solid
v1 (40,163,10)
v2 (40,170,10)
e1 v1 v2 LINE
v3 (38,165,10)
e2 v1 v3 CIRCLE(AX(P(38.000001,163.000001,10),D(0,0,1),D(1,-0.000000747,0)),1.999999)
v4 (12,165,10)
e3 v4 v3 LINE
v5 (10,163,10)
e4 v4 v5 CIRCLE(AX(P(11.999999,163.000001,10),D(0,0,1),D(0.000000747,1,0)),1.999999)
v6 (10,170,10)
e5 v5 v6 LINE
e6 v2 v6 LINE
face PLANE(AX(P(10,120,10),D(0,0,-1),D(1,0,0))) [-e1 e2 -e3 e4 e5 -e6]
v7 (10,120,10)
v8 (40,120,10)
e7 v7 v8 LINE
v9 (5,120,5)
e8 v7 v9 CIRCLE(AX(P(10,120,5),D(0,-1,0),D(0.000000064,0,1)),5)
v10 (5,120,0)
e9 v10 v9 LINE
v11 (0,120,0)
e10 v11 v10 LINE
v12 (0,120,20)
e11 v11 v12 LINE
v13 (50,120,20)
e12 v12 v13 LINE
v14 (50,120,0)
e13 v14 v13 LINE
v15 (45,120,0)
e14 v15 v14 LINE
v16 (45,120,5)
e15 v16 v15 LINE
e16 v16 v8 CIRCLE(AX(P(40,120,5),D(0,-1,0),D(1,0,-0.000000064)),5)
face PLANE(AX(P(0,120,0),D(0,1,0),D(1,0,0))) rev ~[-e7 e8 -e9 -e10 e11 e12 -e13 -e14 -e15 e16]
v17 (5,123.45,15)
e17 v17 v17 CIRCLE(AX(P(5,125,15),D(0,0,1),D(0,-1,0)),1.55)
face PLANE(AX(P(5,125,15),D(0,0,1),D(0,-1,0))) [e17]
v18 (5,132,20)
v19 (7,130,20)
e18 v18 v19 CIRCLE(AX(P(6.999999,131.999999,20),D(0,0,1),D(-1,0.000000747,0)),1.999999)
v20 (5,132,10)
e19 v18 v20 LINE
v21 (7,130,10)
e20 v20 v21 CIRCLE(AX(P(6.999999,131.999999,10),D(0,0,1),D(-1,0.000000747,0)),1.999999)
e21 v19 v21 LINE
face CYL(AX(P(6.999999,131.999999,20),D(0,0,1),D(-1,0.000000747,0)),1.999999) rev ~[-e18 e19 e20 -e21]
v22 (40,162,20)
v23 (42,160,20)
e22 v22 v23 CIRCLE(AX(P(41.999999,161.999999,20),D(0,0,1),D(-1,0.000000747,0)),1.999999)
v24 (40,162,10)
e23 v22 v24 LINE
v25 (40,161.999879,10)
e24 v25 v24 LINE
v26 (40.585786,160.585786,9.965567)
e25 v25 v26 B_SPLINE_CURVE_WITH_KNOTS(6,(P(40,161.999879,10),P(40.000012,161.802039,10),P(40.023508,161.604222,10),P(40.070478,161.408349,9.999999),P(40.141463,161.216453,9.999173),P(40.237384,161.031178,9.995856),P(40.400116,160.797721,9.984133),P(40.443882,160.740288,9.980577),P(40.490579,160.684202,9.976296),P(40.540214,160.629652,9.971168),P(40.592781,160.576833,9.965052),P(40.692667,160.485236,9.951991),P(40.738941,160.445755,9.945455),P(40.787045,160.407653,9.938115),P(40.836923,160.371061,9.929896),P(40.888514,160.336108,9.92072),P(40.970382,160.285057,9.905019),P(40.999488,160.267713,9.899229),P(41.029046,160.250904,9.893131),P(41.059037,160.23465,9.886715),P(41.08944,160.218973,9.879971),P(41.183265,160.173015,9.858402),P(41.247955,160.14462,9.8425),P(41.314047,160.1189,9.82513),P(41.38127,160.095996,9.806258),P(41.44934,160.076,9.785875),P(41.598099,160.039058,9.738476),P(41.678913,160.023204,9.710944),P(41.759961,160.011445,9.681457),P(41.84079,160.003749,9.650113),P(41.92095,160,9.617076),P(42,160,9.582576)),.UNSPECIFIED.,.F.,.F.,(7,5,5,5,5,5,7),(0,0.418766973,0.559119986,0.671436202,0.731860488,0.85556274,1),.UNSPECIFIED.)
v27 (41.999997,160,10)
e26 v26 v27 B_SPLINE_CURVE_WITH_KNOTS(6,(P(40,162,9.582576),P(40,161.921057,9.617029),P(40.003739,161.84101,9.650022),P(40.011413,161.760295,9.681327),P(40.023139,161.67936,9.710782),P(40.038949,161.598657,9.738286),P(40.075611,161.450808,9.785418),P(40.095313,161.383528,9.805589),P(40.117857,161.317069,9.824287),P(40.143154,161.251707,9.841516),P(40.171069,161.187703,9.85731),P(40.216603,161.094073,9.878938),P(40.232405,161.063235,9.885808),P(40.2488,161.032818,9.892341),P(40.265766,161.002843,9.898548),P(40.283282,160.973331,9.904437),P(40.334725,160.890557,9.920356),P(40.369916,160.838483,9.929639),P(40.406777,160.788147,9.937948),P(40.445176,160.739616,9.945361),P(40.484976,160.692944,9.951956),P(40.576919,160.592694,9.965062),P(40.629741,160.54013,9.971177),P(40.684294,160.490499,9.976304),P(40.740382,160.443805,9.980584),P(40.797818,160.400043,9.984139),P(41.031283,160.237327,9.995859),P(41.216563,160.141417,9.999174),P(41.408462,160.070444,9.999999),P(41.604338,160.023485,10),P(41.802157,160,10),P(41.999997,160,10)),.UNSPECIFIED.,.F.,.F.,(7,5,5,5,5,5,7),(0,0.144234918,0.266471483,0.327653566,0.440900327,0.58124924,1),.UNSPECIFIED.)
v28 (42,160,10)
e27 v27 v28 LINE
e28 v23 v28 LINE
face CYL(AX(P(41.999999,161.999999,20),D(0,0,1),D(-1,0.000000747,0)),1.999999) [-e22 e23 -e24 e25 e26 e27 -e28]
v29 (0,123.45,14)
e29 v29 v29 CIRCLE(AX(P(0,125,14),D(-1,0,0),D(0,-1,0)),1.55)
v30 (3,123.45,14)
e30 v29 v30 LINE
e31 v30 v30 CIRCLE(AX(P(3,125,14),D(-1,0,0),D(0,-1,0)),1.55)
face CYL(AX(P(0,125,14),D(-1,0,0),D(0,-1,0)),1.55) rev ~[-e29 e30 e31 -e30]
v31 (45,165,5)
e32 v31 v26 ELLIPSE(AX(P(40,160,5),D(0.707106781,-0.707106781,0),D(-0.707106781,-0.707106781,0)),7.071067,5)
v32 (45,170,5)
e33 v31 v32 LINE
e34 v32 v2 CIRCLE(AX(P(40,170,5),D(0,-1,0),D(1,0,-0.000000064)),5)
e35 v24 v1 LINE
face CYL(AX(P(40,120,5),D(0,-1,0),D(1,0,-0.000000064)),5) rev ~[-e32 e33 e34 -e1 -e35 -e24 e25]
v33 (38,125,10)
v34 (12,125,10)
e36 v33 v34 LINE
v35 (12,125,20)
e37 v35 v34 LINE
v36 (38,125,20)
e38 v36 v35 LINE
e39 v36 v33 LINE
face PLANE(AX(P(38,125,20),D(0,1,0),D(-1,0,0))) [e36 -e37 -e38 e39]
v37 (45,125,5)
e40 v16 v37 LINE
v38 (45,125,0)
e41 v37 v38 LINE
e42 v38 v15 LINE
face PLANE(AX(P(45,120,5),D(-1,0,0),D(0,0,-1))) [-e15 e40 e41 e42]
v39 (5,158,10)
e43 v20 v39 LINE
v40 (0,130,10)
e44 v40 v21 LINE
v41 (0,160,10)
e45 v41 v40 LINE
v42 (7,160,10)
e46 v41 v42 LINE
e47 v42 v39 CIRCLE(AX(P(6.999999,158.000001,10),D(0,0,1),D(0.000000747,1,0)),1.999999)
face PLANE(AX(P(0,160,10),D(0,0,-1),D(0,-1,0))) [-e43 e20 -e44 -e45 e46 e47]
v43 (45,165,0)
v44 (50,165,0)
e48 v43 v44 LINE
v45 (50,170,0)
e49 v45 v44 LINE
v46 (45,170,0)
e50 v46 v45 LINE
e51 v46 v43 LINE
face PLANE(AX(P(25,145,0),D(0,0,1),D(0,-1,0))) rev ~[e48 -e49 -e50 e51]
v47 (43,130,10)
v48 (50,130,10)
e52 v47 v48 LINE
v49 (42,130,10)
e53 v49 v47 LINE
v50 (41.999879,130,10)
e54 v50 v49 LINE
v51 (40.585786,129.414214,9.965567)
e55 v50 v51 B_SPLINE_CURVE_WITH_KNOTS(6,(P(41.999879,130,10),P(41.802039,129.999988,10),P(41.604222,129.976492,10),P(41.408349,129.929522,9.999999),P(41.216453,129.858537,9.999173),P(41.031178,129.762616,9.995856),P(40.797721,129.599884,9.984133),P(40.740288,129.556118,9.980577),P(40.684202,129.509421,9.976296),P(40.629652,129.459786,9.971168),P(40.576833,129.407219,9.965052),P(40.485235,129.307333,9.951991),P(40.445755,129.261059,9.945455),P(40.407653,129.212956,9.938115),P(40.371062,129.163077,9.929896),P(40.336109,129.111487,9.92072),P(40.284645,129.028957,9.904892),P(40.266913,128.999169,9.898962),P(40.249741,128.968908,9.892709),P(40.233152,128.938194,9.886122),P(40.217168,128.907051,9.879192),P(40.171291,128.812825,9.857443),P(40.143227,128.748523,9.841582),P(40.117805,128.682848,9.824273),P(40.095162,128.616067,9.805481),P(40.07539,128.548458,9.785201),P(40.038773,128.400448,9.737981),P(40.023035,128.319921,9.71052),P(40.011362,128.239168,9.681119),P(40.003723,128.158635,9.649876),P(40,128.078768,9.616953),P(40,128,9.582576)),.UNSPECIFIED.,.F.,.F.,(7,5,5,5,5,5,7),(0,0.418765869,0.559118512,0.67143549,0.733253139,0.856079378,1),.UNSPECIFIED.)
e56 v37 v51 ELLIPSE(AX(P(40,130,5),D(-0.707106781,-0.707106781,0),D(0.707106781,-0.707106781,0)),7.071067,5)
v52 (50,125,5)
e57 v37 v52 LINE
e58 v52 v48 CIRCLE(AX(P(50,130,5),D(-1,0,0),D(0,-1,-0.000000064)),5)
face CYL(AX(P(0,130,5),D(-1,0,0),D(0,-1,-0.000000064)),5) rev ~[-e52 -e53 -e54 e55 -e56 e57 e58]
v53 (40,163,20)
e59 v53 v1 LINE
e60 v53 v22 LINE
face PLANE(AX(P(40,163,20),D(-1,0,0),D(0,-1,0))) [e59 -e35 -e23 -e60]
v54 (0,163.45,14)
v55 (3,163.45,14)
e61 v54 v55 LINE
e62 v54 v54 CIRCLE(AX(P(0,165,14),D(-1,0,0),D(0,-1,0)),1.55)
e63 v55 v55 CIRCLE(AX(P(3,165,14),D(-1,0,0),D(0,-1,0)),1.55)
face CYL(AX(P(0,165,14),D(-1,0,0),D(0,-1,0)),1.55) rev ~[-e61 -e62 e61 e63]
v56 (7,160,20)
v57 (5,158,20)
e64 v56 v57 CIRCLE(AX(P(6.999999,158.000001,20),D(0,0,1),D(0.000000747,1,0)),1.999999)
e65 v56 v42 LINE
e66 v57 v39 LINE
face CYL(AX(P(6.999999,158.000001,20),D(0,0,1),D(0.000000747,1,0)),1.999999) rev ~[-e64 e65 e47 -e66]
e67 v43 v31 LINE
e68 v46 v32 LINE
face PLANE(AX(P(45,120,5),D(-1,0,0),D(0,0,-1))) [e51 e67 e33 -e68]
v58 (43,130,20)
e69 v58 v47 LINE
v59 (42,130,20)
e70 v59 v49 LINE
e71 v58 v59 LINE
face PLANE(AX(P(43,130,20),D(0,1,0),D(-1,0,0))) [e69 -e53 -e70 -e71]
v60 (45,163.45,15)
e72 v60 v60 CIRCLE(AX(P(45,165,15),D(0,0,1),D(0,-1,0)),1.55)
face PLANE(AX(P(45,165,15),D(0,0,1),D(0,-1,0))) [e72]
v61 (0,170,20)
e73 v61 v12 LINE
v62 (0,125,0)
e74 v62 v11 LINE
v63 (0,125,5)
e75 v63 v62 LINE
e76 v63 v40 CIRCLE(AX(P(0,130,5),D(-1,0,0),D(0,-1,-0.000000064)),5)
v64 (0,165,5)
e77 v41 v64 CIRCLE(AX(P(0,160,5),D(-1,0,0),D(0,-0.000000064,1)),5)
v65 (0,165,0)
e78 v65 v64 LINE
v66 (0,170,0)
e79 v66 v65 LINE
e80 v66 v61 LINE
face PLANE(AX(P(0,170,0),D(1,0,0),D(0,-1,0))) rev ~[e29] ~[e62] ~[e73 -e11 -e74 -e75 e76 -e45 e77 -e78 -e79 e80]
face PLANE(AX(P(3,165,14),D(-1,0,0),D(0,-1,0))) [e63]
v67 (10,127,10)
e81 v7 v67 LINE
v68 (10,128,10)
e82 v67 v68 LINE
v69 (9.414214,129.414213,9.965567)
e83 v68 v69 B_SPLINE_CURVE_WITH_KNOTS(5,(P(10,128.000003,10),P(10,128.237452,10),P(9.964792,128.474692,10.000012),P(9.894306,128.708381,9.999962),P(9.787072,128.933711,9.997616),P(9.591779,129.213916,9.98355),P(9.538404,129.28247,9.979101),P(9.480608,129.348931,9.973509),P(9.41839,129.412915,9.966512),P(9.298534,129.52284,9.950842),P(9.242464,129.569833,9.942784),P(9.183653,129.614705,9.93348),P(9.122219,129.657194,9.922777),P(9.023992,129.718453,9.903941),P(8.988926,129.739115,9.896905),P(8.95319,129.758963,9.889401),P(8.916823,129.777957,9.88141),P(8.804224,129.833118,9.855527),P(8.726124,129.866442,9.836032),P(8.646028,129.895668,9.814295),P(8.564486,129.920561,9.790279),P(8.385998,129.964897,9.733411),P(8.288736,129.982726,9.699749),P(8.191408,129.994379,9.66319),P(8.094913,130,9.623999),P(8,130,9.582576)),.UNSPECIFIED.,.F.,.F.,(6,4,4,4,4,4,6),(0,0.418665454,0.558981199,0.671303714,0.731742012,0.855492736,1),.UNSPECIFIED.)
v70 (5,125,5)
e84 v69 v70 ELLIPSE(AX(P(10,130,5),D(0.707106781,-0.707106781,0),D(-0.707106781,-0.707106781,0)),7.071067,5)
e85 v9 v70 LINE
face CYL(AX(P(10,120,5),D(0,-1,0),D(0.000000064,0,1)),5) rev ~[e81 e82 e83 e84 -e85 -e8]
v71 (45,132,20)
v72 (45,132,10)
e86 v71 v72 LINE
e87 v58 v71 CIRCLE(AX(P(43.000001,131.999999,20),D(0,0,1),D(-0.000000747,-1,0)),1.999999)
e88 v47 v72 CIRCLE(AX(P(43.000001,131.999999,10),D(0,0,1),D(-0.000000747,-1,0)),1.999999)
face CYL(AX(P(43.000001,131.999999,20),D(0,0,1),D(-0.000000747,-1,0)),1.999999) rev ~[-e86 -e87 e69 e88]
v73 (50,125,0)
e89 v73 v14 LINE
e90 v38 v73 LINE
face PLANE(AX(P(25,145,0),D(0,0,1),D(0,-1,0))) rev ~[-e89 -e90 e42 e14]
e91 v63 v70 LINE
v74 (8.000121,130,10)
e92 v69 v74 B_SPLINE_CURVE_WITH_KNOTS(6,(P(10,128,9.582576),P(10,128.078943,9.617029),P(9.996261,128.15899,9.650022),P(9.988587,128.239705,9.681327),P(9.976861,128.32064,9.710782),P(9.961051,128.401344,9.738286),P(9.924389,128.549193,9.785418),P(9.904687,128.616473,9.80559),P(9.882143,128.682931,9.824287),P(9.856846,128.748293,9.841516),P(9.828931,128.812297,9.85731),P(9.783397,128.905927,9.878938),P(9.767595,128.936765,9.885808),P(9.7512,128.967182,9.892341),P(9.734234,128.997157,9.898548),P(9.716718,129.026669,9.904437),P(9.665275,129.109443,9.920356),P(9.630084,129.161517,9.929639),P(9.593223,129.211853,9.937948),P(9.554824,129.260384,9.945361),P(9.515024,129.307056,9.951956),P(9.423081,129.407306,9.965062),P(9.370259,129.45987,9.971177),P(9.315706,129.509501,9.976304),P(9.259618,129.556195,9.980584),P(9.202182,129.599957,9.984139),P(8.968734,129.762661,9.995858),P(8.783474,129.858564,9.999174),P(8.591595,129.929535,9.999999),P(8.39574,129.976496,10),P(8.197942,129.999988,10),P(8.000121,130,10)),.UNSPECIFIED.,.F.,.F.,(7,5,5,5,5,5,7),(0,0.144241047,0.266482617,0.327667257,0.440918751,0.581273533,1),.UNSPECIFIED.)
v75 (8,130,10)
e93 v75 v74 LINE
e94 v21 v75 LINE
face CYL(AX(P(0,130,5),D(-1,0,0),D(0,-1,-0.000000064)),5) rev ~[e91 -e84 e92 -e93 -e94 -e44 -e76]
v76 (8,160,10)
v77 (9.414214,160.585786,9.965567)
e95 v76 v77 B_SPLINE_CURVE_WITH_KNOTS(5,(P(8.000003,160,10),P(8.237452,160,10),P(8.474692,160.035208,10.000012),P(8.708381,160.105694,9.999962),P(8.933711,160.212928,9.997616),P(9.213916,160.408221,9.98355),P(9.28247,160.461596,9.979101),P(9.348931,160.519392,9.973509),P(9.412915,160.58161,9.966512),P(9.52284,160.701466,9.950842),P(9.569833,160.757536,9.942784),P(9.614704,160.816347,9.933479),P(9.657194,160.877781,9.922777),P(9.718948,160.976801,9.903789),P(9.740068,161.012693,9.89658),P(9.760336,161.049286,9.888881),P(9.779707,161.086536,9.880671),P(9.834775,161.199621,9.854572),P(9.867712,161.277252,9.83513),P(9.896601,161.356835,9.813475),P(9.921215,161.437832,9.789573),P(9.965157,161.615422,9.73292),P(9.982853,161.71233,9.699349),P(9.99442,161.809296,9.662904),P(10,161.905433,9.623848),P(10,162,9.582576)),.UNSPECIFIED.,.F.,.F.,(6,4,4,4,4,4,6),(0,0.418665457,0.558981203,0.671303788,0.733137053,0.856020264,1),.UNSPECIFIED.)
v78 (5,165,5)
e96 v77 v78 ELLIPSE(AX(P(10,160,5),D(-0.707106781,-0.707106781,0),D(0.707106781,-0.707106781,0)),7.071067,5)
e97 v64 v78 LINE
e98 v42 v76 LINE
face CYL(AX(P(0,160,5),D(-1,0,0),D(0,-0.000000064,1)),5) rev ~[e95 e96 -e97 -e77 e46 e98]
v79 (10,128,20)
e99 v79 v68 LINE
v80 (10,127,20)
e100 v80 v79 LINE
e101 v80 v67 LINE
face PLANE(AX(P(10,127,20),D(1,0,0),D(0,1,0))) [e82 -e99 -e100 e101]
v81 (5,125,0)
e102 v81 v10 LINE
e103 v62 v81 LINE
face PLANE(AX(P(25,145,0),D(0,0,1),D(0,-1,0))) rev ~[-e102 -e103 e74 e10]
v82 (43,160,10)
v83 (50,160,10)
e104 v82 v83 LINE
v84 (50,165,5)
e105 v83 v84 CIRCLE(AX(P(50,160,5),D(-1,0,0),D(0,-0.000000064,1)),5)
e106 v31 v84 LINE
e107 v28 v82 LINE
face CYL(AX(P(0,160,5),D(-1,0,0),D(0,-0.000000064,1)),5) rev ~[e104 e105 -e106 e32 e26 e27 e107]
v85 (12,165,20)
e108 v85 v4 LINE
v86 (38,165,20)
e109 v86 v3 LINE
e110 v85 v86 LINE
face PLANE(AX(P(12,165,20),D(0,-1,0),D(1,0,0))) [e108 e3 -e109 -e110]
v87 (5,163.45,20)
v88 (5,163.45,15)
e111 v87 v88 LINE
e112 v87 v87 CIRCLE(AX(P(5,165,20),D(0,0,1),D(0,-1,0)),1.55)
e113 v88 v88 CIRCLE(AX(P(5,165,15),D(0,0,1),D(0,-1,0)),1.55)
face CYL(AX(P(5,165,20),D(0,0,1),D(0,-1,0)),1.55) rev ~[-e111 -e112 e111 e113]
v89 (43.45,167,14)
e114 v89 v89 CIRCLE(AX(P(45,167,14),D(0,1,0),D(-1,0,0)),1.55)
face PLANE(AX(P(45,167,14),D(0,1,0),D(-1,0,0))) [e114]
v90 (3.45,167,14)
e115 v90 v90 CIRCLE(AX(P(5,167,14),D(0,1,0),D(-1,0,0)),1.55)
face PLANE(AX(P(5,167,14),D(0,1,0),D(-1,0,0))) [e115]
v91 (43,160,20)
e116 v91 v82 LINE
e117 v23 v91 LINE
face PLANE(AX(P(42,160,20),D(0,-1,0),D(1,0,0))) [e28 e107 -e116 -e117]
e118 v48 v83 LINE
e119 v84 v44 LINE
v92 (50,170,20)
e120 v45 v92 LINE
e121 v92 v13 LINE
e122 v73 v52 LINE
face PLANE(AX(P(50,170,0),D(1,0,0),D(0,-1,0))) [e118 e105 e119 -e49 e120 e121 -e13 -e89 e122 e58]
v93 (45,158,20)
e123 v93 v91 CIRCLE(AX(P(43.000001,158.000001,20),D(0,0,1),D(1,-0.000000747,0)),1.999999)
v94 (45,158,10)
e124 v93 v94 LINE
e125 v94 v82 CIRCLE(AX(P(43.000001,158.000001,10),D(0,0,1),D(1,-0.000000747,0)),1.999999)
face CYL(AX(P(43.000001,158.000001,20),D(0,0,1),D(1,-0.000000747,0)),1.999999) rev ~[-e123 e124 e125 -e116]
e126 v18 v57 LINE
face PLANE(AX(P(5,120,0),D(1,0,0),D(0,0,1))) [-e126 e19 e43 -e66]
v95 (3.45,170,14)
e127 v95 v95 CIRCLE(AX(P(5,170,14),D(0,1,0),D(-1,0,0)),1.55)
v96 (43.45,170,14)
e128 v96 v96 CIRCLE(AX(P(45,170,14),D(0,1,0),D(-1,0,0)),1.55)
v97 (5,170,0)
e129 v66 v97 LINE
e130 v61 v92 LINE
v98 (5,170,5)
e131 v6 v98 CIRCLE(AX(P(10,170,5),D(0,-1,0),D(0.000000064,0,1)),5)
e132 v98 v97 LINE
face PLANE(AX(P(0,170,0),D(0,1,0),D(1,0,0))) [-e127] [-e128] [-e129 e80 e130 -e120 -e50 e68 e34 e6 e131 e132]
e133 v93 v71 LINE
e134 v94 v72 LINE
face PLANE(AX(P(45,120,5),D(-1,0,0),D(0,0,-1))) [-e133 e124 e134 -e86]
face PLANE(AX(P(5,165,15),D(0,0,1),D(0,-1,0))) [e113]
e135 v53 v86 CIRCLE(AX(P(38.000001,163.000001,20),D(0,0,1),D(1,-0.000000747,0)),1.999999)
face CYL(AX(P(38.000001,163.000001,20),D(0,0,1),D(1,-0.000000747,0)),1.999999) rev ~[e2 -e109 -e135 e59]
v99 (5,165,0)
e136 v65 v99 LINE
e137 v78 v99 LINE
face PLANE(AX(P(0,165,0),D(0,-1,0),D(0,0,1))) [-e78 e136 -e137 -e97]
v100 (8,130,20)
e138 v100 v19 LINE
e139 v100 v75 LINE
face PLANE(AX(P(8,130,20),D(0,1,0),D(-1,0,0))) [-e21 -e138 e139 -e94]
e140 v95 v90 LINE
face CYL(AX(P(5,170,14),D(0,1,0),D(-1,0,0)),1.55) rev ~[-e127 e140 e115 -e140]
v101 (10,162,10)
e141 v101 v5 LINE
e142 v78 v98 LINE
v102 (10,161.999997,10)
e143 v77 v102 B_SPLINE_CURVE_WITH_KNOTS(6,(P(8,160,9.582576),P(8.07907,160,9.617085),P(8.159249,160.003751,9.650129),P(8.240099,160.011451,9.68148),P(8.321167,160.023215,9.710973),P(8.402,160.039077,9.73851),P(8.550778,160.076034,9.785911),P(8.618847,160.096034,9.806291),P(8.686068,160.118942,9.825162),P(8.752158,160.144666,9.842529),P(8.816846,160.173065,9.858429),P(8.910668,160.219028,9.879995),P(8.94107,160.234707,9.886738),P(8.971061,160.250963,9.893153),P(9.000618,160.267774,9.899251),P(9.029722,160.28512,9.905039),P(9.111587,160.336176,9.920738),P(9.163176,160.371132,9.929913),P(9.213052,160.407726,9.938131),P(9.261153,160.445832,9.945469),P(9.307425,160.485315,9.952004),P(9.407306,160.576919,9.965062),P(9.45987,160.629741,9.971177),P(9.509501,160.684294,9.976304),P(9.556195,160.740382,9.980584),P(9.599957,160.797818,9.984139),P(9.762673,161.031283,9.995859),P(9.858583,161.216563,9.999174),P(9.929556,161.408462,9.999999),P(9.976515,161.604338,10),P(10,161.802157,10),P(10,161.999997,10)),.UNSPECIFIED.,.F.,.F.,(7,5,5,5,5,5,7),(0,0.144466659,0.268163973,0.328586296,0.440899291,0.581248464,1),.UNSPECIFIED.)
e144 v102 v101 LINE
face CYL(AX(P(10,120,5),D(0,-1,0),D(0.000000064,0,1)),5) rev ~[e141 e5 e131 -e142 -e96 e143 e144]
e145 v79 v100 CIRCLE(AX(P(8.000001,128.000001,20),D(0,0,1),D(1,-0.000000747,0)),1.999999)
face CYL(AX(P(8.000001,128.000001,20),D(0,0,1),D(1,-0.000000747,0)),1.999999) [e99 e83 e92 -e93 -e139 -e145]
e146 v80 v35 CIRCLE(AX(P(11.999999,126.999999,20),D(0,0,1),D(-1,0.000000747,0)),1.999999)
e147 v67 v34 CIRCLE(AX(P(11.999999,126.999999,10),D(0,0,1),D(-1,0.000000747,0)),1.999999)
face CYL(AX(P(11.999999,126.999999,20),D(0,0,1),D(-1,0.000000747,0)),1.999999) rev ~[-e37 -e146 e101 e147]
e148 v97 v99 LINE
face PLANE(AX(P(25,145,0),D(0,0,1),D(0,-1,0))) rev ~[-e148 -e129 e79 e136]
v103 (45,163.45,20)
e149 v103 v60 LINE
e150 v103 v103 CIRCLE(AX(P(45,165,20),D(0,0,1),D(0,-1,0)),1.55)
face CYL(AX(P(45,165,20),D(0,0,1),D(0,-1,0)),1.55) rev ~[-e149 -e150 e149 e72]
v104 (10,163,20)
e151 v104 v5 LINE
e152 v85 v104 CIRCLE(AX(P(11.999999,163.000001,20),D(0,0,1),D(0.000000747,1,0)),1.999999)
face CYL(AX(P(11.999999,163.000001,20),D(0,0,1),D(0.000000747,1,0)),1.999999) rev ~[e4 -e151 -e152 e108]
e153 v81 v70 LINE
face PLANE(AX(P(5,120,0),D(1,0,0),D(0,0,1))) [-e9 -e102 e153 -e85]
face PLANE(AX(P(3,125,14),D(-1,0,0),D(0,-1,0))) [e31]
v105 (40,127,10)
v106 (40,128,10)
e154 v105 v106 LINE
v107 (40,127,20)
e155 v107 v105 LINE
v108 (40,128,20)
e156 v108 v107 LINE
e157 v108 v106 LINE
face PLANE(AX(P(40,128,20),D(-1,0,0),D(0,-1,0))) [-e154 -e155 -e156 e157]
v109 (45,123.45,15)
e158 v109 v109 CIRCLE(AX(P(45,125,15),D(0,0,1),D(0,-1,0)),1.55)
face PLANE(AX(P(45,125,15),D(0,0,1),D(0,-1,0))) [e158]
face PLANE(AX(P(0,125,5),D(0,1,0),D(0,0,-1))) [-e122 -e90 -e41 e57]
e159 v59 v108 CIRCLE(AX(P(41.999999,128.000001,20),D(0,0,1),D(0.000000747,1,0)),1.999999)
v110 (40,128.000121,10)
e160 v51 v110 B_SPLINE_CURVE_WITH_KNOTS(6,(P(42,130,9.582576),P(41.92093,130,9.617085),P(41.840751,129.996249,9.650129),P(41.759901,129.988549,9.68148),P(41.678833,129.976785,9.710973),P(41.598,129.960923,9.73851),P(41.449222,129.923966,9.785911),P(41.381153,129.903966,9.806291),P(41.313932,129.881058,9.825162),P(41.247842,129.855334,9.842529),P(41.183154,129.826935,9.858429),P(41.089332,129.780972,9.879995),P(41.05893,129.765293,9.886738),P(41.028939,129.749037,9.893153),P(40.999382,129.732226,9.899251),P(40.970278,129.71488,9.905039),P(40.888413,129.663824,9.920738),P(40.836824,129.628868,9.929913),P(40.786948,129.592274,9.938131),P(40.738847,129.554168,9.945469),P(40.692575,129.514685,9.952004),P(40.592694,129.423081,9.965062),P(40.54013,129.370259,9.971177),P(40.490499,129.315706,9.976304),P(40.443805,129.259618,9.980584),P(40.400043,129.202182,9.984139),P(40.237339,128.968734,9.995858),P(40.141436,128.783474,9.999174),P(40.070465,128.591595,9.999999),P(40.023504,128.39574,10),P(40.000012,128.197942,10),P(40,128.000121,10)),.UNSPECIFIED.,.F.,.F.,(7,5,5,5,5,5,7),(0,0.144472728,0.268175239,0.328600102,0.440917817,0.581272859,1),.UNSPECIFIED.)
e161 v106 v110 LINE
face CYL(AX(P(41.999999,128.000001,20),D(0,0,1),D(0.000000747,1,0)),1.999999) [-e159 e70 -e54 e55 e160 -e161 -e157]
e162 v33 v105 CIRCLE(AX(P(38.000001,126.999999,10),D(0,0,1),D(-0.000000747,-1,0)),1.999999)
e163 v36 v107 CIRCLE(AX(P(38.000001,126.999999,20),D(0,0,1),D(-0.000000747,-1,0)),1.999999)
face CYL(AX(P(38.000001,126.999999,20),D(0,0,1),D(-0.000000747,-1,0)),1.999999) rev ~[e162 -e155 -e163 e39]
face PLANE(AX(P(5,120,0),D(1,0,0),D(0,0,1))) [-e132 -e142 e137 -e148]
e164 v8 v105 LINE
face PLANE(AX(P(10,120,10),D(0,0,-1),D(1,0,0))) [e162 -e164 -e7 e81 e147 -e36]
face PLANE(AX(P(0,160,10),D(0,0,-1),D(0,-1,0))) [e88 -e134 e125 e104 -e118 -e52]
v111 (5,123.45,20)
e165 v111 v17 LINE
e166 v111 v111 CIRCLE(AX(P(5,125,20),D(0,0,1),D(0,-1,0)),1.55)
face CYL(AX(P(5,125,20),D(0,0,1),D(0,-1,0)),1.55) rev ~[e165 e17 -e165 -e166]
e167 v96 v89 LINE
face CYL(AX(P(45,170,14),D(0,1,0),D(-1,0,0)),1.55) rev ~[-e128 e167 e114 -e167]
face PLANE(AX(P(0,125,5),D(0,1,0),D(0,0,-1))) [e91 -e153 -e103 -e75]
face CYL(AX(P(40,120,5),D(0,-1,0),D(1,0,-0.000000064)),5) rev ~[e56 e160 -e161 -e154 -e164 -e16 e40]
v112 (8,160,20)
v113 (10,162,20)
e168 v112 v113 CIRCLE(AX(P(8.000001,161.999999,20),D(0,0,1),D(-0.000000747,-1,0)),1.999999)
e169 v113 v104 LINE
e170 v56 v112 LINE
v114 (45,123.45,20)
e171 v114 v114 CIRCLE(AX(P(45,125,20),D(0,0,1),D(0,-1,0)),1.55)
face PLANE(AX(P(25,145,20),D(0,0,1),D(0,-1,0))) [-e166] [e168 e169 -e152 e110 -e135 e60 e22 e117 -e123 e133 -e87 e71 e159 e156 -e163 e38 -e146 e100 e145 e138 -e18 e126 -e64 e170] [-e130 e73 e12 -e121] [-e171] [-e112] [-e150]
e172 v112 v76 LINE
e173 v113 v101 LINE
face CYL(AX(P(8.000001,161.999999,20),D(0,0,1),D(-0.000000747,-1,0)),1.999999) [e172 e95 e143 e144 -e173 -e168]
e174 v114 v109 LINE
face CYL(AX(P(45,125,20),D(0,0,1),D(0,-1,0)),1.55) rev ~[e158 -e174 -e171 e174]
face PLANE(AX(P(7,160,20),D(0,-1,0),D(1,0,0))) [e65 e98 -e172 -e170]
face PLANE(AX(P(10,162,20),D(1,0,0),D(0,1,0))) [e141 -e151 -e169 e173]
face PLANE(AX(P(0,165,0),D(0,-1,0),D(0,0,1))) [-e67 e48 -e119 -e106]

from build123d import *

# Parameters (mm, degrees)
SKETCH048_W             = 50
SKETCH048_H             = 50
PAD008_DEPTH            = 20
POCKET041_DEPTH         = 20.001
POCKET042_DEPTH         = 50.001
POCKET043_DEPTH         = 50.001
SKETCH052_R             = 1.55
POCKET044_DEPTH         = 5
SKETCH053_R             = 1.55
POCKET045_DEPTH         = 3
SKETCH054_R             = 1.55
POCKET046_DEPTH         = 3
BODY009_PLACEMENT_ANGLE = 90


with BuildPart() as part:
    # Sketch048 → Pad008 (new body)
    with BuildSketch(Plane.XY):
        Rectangle(SKETCH048_W, SKETCH048_H)
    extrude(amount=PAD008_DEPTH)

    # Sketch049 (on Face6 of Pad008) → Pocket041 (cut, through all)
    with BuildSketch(Plane.XY.offset(20)):
        with BuildLine():
            Line((-18, 15), (-17, 15))
            ThreePointArc((-17, 15), (-15.585786, 15.585786), (-15, 17))
            Line((-15, 17), (-15, 18))
            ThreePointArc((-13, 20), (-14.414214, 19.414214), (-15, 18))
            Line((-13, 20), (13, 20))
            ThreePointArc((15, 18), (14.414214, 19.414214), (13, 20))
            Line((15, 18), (15, 17))
            ThreePointArc((15, 17), (15.585786, 15.585786), (17, 15))
            Line((17, 15), (18, 15))
            ThreePointArc((20, 13), (19.414214, 14.414214), (18, 15))
            Line((20, 13), (20, -13))
            ThreePointArc((18, -15), (19.414214, -14.414214), (20, -13))
            Line((18, -15), (17, -15))
            ThreePointArc((17, -15), (15.585786, -15.585786), (15, -17))
            Line((15, -17), (15, -18))
            ThreePointArc((13, -20), (14.414214, -19.414214), (15, -18))
            Line((13, -20), (-13, -20))
            ThreePointArc((-15, -18), (-14.414214, -19.414214), (-13, -20))
            Line((-15, -18), (-15, -17))
            ThreePointArc((-15, -17), (-15.585786, -15.585786), (-17, -15))
            Line((-17, -15), (-18, -15))
            ThreePointArc((-20, -13), (-19.414214, -14.414214), (-18, -15))
            Line((-20, -13), (-20, 13))
            ThreePointArc((-18, 15), (-19.414214, 14.414214), (-20, 13))
        make_face()
    extrude(amount=-POCKET041_DEPTH, mode=Mode.SUBTRACT)

    # Sketch050 (on Face3 of Pocket041) → Pocket042 (cut, through all)
    with BuildSketch(Plane.YZ.offset(25)):
        with BuildLine():
            Line((-15, 10), (15, 10))
            ThreePointArc((20, 5), (18.535534, 8.535534), (15, 10))
            Line((20, 5), (20, 0))
            Line((20, 0), (-20, 0))
            Line((-20, 0), (-20, 5))
            ThreePointArc((-15, 10), (-18.535534, 8.535534), (-20, 5))
        make_face()
    extrude(amount=-POCKET042_DEPTH, mode=Mode.SUBTRACT)

    # Sketch051 (on Face6 of Pocket041) → Pocket043 (cut, through all)
    with BuildSketch(Plane.XZ.offset(25)):
        with BuildLine():
            Line((-15, 10), (15, 10))
            ThreePointArc((20, 5), (18.535534, 8.535534), (15, 10))
            Line((20, 5), (20, 0))
            Line((20, 0), (-20, 0))
            Line((-20, 0), (-20, 5))
            ThreePointArc((-15, 10), (-18.535534, 8.535534), (-20, 5))
        make_face()
    extrude(amount=-POCKET043_DEPTH, mode=Mode.SUBTRACT)

    # Sketch052 → Pocket044 (cut)
    with BuildSketch(Plane.XY.offset(20)):
        with Locations((-20, 20)):
            Circle(SKETCH052_R)
        with Locations((20, 20)):
            Circle(SKETCH052_R)
        with Locations((20, -20)):
            Circle(SKETCH052_R)
        with Locations((-20, -20)):
            Circle(SKETCH052_R)
    extrude(amount=-POCKET044_DEPTH, mode=Mode.SUBTRACT)

    # Sketch053 (on Face27 of Pocket044) → Pocket045 (cut)
    with BuildSketch(Plane.XZ.offset(25)):
        with Locations((-20, 14)):
            Circle(SKETCH053_R)
        with Locations((20, 14)):
            Circle(SKETCH053_R)
    extrude(amount=-POCKET045_DEPTH, mode=Mode.SUBTRACT)

    # Sketch054 (on Face11 of Pocket045) → Pocket046 (cut)
    with BuildSketch(Plane(origin=(-25, 0, 0), x_dir=(0, -1, 0), z_dir=(-1, 0, 0))):
        with Locations((-20, 14)):
            Circle(SKETCH054_R)
        with Locations((20, 14)):
            Circle(SKETCH054_R)
    extrude(amount=-POCKET046_DEPTH, mode=Mode.SUBTRACT)


with BuildPart() as part_1:
    # Body009 placement: moved
    add(part.part.moved(Location((25, 145, 0))).rotate(Axis((25, 145, 0), (0, 0, -1)), BODY009_PLACEMENT_ANGLE))


solid = part_1.part
